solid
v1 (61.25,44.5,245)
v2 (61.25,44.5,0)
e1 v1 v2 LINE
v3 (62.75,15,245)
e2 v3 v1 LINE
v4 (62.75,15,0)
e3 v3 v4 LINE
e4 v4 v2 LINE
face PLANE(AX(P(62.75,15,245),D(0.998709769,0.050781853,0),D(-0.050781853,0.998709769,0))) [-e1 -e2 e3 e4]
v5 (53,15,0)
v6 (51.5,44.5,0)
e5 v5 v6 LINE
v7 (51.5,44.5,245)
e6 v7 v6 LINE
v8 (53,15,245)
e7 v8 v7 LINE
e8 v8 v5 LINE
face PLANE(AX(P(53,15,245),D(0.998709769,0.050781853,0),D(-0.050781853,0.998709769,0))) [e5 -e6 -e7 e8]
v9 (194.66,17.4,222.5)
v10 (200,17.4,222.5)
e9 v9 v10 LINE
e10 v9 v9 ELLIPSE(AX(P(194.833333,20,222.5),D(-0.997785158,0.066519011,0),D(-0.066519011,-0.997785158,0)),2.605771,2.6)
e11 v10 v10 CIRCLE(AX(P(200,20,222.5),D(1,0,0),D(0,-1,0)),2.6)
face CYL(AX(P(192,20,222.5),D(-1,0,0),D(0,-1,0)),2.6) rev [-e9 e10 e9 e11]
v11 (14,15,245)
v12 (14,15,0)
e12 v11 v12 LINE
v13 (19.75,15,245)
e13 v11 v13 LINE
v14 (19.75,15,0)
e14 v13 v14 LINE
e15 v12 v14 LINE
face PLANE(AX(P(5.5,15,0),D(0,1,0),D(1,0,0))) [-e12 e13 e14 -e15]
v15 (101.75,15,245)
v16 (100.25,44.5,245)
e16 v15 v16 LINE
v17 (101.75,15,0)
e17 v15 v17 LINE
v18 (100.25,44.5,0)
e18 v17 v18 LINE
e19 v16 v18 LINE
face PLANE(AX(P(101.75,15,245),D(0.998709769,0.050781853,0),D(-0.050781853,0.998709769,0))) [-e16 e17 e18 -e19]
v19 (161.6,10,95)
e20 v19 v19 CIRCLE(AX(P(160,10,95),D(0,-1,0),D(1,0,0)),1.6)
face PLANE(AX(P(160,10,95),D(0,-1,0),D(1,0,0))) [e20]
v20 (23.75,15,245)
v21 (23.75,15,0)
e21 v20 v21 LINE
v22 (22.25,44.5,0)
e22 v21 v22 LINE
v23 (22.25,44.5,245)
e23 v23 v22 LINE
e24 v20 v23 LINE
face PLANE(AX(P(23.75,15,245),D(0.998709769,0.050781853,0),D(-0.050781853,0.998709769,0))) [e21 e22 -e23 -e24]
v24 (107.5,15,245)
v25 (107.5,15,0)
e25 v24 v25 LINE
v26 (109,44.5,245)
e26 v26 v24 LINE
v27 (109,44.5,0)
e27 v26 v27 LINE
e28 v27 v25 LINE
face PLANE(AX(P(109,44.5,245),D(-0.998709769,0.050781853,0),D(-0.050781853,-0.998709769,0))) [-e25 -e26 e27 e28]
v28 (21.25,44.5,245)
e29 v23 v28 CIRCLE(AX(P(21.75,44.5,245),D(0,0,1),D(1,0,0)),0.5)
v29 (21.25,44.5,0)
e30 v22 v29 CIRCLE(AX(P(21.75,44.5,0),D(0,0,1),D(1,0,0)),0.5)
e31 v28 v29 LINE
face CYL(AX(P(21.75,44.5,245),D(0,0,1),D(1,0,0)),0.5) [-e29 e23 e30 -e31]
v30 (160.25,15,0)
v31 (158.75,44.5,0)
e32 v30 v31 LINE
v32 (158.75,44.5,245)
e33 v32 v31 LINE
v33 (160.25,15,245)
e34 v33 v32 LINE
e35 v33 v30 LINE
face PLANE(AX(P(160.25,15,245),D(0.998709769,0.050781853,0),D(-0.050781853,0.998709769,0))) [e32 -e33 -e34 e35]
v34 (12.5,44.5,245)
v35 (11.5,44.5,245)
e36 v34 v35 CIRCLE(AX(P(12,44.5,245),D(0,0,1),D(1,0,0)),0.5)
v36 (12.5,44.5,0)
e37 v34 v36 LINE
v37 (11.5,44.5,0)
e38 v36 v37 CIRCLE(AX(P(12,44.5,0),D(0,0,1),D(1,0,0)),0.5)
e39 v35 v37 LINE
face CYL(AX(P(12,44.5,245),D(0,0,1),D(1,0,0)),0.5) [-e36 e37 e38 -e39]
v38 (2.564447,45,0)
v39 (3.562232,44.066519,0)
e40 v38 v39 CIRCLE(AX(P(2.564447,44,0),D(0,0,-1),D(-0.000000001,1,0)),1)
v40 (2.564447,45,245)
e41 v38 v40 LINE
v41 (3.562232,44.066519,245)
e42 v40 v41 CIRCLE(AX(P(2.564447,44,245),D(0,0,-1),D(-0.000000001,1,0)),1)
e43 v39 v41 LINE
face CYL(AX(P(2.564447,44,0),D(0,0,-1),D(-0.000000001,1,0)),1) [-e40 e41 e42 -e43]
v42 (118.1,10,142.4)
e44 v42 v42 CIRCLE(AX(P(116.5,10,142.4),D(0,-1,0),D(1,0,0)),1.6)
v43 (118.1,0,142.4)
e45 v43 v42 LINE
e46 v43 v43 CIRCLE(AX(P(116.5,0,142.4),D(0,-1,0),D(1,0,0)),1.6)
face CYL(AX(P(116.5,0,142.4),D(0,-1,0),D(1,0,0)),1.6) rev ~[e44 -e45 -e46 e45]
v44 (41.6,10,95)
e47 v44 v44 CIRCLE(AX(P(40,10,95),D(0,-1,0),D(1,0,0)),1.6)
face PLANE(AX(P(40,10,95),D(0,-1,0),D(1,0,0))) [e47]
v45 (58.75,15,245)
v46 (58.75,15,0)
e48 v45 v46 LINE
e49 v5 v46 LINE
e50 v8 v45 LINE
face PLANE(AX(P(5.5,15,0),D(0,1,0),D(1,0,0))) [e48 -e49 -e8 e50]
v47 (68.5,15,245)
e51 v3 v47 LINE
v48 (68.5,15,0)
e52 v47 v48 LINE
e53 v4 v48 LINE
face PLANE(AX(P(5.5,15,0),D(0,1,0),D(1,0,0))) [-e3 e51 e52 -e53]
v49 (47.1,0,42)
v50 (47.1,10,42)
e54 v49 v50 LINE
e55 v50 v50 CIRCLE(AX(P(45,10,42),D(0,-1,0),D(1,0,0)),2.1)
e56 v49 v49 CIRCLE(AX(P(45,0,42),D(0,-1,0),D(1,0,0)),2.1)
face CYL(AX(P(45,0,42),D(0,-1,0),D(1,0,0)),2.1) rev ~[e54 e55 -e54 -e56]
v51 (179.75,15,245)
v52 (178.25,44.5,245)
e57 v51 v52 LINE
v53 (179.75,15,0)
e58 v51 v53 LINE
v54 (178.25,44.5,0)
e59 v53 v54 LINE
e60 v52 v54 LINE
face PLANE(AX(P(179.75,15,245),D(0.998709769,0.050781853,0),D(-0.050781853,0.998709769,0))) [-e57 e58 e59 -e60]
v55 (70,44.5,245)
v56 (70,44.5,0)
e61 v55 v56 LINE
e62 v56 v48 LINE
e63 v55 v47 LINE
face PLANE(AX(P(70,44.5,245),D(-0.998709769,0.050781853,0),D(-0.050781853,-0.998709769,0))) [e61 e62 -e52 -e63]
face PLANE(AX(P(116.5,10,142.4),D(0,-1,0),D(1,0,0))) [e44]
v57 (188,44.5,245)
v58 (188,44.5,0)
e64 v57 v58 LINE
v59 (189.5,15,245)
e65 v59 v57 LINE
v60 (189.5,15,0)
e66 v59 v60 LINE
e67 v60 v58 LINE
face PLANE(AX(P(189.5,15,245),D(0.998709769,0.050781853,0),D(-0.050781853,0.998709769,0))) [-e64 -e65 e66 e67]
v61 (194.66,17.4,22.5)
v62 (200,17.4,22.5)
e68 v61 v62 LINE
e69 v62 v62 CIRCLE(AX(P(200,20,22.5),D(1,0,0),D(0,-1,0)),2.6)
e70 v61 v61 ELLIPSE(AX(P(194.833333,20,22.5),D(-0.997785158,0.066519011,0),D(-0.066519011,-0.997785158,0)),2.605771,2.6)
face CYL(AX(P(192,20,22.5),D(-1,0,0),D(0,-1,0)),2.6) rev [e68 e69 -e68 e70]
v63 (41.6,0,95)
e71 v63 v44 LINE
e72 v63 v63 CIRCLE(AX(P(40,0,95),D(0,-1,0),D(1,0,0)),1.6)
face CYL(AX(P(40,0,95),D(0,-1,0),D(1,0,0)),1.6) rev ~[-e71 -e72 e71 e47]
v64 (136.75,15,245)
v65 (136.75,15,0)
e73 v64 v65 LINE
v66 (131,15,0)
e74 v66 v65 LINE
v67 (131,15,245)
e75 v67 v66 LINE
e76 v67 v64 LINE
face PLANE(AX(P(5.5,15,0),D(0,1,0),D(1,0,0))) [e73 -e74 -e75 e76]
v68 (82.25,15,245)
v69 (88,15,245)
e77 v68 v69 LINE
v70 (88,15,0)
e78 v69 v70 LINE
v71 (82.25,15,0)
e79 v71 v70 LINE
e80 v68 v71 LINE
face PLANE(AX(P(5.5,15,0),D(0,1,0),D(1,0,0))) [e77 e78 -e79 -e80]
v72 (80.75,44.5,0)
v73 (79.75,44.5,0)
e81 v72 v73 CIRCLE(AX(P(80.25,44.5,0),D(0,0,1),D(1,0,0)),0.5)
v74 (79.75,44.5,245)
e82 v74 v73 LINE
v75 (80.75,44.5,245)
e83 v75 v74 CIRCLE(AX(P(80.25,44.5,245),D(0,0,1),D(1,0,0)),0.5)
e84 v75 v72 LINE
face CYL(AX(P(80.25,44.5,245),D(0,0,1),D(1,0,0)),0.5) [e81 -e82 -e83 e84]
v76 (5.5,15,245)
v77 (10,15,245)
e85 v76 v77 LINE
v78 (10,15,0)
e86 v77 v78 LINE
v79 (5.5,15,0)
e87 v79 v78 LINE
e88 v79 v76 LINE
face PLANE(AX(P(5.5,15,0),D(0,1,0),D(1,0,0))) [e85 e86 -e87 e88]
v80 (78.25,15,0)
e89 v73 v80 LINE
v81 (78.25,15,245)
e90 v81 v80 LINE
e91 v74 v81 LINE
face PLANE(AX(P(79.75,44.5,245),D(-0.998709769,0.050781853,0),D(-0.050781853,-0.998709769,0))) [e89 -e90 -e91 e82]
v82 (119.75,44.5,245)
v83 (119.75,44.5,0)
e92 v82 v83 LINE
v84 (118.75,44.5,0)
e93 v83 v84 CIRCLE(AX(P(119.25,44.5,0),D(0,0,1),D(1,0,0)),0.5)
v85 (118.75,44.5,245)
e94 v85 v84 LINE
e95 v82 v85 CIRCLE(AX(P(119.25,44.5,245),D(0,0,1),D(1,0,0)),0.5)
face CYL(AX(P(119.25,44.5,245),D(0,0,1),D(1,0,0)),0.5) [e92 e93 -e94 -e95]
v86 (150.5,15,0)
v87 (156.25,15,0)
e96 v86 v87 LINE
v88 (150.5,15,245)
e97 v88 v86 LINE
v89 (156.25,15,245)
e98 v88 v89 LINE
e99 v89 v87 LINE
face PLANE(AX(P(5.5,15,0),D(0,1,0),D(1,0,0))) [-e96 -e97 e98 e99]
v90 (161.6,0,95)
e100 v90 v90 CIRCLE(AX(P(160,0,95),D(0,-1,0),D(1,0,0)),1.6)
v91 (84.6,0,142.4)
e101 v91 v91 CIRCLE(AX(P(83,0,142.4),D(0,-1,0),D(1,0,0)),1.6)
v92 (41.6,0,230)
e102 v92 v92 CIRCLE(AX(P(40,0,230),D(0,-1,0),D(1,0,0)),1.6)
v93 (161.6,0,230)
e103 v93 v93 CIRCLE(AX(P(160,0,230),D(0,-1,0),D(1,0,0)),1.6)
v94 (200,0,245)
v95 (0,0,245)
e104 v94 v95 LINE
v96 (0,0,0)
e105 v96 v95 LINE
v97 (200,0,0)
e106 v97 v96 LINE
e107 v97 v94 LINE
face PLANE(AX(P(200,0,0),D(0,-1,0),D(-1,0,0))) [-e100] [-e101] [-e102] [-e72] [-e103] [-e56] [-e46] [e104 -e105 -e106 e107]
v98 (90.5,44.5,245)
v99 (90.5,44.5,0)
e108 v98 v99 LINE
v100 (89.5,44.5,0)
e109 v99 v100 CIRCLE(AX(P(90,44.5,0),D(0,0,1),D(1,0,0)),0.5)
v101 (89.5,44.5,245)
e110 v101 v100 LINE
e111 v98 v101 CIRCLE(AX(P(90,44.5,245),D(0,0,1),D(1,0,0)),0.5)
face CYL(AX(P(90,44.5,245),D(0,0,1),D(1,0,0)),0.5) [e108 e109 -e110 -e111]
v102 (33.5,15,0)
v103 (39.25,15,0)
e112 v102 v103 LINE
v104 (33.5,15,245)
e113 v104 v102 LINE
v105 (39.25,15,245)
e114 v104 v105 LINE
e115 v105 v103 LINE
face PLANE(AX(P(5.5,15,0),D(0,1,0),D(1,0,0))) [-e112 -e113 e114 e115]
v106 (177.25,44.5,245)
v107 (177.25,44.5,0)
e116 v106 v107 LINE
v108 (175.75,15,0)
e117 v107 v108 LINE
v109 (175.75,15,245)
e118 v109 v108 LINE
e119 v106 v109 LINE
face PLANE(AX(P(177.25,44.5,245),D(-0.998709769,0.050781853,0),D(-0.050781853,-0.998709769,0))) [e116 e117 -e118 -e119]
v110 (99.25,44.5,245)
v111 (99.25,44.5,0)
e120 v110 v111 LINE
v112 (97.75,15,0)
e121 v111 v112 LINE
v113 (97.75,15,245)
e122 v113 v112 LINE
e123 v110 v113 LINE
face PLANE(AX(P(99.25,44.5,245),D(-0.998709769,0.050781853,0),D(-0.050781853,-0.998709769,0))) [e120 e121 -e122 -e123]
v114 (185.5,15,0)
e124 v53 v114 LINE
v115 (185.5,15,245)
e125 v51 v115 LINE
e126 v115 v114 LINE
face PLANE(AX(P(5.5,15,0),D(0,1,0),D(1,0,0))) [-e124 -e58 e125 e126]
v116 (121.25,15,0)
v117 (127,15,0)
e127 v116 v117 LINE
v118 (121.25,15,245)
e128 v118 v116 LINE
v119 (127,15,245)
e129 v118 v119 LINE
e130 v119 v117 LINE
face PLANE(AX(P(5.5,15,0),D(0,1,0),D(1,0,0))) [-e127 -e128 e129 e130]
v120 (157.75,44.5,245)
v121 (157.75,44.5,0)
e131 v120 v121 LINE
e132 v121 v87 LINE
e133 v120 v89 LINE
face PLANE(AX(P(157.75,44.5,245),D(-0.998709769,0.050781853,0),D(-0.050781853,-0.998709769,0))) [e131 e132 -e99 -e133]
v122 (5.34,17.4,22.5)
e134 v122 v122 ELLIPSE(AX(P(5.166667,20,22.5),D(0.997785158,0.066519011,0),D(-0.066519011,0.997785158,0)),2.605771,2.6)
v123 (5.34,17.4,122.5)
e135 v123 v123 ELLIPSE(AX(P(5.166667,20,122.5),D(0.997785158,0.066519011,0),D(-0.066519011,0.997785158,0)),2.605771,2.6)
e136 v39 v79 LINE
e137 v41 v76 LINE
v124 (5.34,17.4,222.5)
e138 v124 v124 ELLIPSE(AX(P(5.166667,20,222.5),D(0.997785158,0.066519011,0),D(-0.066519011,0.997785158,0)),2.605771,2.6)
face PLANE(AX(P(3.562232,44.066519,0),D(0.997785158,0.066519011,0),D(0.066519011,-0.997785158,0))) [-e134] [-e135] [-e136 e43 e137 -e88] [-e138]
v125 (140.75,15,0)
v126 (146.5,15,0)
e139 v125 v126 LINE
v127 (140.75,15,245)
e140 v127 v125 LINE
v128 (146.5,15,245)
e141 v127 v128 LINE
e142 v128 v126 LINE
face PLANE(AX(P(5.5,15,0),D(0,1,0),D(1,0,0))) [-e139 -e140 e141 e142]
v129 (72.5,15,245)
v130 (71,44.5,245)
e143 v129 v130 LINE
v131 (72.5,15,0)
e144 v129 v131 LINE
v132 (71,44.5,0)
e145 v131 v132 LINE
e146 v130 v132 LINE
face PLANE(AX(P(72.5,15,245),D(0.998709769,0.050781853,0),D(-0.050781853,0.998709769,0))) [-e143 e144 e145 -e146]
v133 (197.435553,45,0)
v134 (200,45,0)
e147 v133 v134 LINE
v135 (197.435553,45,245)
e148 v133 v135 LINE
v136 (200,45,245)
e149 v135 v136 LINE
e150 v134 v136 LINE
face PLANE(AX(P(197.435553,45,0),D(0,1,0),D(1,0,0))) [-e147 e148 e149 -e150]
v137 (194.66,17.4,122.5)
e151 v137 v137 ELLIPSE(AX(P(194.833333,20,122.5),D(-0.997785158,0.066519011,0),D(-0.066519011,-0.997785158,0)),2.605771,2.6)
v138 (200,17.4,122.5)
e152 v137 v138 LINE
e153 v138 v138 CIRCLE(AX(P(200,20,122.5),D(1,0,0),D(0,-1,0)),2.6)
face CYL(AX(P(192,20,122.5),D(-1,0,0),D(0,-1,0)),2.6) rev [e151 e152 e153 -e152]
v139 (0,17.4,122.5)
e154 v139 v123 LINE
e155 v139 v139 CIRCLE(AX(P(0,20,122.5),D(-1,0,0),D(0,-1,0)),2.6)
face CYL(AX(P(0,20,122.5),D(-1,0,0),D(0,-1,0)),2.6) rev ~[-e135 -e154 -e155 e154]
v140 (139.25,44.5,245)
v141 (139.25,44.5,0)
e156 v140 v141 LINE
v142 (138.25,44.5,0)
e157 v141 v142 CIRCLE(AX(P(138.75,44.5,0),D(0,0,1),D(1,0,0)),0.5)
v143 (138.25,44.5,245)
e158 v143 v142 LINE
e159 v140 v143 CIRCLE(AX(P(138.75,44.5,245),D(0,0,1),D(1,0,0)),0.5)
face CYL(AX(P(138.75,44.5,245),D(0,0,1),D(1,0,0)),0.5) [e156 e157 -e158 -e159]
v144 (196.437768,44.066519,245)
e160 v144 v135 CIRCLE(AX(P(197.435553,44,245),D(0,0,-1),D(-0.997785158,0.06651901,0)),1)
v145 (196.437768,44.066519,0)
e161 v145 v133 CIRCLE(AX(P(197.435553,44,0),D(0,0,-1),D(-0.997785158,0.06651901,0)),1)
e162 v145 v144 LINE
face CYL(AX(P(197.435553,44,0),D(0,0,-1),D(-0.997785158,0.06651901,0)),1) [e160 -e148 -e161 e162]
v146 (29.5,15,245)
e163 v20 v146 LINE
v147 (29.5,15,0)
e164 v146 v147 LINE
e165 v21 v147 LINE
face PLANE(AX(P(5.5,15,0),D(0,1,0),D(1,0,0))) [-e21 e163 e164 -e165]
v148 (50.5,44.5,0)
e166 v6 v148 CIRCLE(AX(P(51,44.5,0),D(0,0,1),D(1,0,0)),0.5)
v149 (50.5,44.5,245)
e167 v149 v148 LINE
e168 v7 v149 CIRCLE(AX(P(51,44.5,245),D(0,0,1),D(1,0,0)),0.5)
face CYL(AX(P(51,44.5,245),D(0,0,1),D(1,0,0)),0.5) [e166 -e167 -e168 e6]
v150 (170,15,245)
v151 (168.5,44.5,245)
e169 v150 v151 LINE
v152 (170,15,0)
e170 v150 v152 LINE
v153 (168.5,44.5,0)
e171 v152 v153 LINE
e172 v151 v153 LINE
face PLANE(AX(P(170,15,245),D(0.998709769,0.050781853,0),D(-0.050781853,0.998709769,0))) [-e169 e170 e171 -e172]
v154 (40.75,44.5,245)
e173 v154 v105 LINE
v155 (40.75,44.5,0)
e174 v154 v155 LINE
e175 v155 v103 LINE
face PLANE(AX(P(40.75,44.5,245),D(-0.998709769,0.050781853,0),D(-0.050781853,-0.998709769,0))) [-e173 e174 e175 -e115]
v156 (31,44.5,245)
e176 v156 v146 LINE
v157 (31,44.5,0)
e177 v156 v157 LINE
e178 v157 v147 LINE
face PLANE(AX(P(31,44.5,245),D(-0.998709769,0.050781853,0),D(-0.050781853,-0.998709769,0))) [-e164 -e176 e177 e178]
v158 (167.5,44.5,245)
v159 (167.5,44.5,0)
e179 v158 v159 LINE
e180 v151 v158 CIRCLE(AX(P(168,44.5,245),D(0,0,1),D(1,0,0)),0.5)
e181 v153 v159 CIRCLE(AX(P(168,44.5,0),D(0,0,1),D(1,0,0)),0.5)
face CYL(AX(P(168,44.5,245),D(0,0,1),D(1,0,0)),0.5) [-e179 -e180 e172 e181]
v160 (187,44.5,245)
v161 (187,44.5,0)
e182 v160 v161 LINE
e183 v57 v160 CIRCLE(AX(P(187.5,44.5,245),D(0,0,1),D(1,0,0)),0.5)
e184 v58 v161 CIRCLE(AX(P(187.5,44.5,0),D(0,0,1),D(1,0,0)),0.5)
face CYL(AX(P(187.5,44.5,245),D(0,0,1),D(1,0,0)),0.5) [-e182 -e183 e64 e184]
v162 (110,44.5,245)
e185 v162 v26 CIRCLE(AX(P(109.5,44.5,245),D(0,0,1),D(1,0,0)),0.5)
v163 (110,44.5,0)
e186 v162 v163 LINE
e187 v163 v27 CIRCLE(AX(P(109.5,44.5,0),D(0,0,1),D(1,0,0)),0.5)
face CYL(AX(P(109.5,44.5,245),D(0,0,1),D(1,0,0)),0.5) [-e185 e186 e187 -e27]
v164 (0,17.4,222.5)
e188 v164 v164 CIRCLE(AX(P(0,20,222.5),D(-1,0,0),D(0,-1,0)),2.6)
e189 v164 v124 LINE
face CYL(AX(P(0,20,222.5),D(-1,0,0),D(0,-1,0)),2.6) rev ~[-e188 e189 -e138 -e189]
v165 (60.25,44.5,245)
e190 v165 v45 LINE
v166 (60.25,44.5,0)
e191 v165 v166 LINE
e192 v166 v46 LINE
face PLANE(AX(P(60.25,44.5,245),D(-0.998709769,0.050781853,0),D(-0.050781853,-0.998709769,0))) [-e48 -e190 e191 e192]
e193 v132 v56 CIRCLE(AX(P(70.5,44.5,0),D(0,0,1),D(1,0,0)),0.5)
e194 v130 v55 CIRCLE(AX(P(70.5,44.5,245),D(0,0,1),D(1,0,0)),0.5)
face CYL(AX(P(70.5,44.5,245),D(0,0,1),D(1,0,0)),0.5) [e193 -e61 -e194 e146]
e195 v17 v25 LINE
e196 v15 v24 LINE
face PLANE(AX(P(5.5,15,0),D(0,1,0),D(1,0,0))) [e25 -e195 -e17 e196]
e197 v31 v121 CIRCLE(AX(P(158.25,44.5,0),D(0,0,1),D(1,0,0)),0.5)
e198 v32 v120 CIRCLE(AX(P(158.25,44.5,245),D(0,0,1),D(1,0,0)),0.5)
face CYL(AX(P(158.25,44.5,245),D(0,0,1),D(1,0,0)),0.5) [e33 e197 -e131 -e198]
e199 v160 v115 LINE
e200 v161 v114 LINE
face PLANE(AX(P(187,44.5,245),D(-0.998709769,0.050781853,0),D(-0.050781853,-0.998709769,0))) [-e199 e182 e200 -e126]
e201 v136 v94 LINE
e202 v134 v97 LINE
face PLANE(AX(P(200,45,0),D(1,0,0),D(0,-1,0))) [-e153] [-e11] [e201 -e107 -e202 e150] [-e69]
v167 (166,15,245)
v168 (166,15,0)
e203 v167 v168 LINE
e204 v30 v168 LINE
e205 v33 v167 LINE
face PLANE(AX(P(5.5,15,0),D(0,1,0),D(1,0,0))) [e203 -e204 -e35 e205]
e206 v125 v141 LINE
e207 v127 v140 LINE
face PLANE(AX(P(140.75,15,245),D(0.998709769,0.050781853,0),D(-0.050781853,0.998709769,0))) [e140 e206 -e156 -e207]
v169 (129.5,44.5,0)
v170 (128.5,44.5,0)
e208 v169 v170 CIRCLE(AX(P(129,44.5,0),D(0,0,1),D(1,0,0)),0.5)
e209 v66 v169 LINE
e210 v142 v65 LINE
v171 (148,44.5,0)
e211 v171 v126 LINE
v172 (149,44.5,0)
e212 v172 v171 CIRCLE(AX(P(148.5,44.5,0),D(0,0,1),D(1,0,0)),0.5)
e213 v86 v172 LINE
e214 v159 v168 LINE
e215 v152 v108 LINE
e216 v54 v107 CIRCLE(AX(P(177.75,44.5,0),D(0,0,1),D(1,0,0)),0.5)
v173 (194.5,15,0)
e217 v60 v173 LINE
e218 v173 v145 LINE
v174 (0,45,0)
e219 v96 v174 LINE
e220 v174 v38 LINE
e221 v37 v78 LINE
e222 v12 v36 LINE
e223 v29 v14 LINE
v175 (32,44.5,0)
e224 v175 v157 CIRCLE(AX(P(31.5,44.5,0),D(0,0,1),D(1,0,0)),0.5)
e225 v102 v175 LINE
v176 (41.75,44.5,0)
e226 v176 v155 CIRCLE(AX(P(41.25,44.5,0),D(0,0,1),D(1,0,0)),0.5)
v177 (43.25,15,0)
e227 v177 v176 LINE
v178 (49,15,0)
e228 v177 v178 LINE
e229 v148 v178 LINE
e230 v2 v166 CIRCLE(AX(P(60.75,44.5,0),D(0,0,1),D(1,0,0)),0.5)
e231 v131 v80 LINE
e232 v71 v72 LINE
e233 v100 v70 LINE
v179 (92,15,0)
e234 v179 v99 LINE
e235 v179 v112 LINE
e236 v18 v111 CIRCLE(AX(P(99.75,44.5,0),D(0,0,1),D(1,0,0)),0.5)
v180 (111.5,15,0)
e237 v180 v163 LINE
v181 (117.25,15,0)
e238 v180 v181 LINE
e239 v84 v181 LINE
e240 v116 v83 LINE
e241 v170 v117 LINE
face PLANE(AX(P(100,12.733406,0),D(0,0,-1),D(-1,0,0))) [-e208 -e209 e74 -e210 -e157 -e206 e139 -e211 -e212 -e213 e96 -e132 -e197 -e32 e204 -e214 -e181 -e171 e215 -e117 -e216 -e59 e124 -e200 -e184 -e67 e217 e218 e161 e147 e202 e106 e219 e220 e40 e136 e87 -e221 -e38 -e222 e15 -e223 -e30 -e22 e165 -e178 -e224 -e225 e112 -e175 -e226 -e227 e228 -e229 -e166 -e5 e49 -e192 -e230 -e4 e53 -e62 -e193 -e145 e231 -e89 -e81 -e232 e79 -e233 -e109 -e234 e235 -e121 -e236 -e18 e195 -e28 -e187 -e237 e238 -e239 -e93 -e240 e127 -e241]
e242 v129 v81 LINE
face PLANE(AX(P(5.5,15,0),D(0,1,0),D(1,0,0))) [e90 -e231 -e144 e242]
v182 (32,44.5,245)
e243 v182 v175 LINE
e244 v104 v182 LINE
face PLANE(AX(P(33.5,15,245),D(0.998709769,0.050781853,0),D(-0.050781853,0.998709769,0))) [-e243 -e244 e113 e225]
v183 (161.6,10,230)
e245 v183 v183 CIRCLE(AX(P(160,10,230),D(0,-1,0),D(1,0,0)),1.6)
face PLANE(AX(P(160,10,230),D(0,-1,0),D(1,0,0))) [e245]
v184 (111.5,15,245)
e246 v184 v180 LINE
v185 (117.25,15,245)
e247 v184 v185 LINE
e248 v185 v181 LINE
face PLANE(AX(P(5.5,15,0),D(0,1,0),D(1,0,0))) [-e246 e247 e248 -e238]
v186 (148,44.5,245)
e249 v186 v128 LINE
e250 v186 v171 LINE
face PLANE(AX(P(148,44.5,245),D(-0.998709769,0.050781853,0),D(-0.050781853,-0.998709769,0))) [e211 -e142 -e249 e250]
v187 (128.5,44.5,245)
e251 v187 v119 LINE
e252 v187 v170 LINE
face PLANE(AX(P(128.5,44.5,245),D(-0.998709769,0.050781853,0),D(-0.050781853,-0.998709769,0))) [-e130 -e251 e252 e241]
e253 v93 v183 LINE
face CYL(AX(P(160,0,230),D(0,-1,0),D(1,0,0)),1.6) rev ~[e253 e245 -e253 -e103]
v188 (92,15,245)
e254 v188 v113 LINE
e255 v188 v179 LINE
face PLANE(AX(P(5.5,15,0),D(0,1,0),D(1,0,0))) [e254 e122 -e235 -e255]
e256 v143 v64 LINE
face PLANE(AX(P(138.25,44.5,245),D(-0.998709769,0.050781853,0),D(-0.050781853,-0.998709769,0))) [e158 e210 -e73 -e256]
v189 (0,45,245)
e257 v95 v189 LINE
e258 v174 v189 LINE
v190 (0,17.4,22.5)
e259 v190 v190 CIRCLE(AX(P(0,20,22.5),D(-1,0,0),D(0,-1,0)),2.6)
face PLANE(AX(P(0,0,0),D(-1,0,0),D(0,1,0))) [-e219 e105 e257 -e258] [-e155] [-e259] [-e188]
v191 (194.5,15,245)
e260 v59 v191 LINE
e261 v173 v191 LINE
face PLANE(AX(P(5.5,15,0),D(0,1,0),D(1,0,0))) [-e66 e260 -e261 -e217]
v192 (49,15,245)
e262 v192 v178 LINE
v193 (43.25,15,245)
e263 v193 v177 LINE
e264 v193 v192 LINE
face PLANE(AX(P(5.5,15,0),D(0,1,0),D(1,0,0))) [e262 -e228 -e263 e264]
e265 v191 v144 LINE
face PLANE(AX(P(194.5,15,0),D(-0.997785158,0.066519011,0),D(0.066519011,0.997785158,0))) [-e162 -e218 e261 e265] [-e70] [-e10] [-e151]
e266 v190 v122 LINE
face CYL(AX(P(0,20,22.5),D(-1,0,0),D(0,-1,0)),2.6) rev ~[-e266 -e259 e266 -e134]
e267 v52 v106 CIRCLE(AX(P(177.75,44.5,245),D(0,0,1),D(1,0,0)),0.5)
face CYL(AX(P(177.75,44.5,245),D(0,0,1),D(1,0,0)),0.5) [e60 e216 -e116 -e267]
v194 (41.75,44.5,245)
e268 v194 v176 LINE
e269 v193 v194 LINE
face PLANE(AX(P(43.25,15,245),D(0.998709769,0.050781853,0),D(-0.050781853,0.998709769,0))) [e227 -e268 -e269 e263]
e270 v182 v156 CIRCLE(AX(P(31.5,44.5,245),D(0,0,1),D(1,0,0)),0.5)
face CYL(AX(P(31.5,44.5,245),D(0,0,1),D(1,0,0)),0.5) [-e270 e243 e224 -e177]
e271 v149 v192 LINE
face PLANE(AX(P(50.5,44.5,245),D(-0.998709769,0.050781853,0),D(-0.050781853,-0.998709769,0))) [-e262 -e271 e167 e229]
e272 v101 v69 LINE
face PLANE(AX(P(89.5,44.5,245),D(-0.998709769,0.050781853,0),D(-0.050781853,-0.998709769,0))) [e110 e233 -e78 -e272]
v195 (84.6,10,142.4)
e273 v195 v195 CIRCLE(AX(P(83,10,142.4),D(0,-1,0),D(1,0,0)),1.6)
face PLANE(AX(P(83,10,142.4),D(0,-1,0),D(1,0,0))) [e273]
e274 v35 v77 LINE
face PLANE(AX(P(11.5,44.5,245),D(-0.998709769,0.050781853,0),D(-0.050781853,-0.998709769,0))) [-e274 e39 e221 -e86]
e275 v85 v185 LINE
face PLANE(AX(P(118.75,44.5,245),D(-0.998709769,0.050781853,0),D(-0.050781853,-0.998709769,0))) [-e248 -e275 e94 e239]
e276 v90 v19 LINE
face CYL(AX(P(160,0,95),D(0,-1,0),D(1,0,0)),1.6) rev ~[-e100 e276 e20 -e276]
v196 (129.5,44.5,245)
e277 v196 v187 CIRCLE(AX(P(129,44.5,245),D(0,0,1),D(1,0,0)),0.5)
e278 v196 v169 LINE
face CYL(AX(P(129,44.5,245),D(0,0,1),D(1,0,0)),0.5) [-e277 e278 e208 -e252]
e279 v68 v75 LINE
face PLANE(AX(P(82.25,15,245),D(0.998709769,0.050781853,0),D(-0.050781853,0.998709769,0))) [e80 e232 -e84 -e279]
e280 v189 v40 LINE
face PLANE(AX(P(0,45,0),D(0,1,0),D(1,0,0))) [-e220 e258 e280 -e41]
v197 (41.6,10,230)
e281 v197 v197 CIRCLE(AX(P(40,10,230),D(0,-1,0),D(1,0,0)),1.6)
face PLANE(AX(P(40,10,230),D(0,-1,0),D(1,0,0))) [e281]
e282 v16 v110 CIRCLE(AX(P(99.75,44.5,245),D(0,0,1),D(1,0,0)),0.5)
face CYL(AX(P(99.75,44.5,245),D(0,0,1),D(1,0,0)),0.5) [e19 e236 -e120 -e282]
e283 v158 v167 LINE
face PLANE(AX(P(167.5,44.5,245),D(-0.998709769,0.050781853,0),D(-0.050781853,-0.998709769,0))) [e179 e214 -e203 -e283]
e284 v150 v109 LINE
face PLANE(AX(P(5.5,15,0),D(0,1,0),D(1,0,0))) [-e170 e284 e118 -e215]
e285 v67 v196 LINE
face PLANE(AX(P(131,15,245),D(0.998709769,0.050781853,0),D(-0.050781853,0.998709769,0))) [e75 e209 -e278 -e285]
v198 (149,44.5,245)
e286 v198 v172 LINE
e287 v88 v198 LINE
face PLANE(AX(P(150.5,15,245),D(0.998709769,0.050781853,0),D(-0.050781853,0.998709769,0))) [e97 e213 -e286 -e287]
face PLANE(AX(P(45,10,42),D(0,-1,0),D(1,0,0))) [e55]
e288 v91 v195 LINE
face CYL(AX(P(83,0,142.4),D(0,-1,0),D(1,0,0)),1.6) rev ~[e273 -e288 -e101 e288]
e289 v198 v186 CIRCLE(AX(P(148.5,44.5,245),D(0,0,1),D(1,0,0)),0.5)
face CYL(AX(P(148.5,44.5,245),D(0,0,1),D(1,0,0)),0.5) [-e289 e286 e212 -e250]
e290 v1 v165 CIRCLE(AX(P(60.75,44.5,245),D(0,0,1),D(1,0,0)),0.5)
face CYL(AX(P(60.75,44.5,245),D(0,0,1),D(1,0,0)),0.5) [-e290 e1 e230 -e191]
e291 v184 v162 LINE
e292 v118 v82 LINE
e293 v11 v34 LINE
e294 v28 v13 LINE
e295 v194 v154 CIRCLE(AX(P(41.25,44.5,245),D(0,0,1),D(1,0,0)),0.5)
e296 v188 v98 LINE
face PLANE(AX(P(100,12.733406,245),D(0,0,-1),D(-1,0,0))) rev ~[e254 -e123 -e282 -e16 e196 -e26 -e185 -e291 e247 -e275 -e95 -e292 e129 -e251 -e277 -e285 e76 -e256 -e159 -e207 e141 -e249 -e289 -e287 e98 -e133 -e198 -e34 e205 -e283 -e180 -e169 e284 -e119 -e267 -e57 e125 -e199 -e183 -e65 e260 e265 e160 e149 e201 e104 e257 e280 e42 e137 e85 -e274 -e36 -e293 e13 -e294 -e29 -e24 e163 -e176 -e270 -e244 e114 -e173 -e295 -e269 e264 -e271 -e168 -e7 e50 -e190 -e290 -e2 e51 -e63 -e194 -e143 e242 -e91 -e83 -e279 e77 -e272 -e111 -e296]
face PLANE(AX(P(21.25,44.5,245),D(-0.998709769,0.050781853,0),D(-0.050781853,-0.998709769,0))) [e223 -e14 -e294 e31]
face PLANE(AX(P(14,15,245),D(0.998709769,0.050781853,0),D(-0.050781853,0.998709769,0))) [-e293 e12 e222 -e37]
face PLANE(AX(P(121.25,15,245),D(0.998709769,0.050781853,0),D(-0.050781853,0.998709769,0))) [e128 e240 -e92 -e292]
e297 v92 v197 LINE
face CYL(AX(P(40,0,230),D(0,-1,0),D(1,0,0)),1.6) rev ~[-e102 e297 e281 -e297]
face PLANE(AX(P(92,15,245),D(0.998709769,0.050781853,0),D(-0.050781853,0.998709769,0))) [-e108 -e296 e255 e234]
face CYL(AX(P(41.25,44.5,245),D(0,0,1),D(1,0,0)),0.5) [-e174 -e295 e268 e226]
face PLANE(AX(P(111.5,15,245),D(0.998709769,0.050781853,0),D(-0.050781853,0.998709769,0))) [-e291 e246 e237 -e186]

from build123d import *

# Parameters (mm, degrees)
EXTRUDE_1_DEPTH       = 245
EXTRUDE_3_DEPTH       = 245
PATTERN_CURVE_1_COUNT = 19
PATTERN_CURVE_1_PITCH = 9.75
SKETCH_7_R            = 2.6
CUT_EXTRUDE_4_DEPTH   = 6
CUT_EXTRUDE_START     = -8
SKETCH_13_R           = 2.6
CUT_EXTRUDE_9_DEPTH   = 8
SKETCH_15_R           = 2.1
SKETCH_15_R_2         = 1.6
CUT_EXTRUDE_10_DEPTH  = 10


with BuildPart() as part:
    # Эскиз1 → Вытянуть1 (new body)
    with BuildSketch(Plane.XY):
        with BuildLine():
            Line((0, 45), (2.564446908, 45))
            ThreePointArc((2.564446908, 45), (3.247630994, 44.730246195), (3.562232066, 44.066519011))
            Line((3.562232066, 44.066519011), (5.5, 15))
            Line((5.5, 15), (194.5, 15))
            Line((194.5, 15), (196.437767934, 44.066519011))
            ThreePointArc((196.437767934, 44.066519011), (196.752369006, 44.730246195), (197.435553092, 45))
            Line((197.435553092, 45), (200, 45))
            Line((200, 45), (200, 0))
            Line((200, 0), (0, 0))
            Line((0, 0), (0, 45))
        make_face()
    extrude(amount=EXTRUDE_1_DEPTH)

    # Эскиз2 → Вытянуть3 (add)
    with BuildSketch(Plane.XY.offset(245)):
        with BuildLine():
            Line((11.5, 44.5), (10, 15))
            Line((10, 15), (14, 15))
            Line((14, 15), (12.5, 44.5))
            ThreePointArc((12.5, 44.5), (12, 45), (11.5, 44.5))
        make_face()
    extrude_3 = extrude(amount=-EXTRUDE_3_DEPTH)

    # Кривая1: Вытянуть3 ×19
    with Locations(*[(i * PATTERN_CURVE_1_PITCH, 0, 0) for i in range(1, PATTERN_CURVE_1_COUNT)]):
        add(extrude_3)

    # Эскиз7 → Вырез-Вытянуть4 (cut)
    with BuildSketch(Plane.ZY):
        with Locations(Location((22.5, 20, 0), (0, 0, 270))):
            Circle(SKETCH_7_R)
        with Locations(Location((222.5, 20, 0), (0, 0, 270))):
            Circle(SKETCH_7_R)
        with Locations(Location((122.5, 20, 0), (0, 0, 270))):
            Circle(SKETCH_7_R)
    extrude(amount=-CUT_EXTRUDE_4_DEPTH, mode=Mode.SUBTRACT)

    # Эскиз13 → Вырез-Вытянуть9 (cut)
    with BuildSketch(Plane(origin=(200, 0, 0), x_dir=(0, 0, -1), z_dir=(1, 0, 0)).offset(CUT_EXTRUDE_START)):
        with Locations(Location((-222.5, 20, 0), (0, 0, 270))):
            Circle(SKETCH_13_R)
        with Locations(Location((-122.5, 20, 0), (0, 0, 270))):
            Circle(SKETCH_13_R)
        with Locations(Location((-22.5, 20, 0), (0, 0, 270))):
            Circle(SKETCH_13_R)
    extrude(amount=CUT_EXTRUDE_9_DEPTH, mode=Mode.SUBTRACT)

    # Эскиз15 → Вырез-Вытянуть10 (cut)
    with BuildSketch(Plane.XZ):
        with Locations((45, 42)):
            Circle(SKETCH_15_R)
        with Locations((116.5, 142.4)):
            Circle(SKETCH_15_R_2)
        with Locations((83, 142.4)):
            Circle(SKETCH_15_R_2)
        with Locations((40, 230)):
            Circle(SKETCH_15_R_2)
        with Locations((160, 230)):
            Circle(SKETCH_15_R_2)
        with Locations((40, 95)):
            Circle(SKETCH_15_R_2)
        with Locations((160, 95)):
            Circle(SKETCH_15_R_2)
    extrude(amount=-CUT_EXTRUDE_10_DEPTH, mode=Mode.SUBTRACT)


solid = part.part
